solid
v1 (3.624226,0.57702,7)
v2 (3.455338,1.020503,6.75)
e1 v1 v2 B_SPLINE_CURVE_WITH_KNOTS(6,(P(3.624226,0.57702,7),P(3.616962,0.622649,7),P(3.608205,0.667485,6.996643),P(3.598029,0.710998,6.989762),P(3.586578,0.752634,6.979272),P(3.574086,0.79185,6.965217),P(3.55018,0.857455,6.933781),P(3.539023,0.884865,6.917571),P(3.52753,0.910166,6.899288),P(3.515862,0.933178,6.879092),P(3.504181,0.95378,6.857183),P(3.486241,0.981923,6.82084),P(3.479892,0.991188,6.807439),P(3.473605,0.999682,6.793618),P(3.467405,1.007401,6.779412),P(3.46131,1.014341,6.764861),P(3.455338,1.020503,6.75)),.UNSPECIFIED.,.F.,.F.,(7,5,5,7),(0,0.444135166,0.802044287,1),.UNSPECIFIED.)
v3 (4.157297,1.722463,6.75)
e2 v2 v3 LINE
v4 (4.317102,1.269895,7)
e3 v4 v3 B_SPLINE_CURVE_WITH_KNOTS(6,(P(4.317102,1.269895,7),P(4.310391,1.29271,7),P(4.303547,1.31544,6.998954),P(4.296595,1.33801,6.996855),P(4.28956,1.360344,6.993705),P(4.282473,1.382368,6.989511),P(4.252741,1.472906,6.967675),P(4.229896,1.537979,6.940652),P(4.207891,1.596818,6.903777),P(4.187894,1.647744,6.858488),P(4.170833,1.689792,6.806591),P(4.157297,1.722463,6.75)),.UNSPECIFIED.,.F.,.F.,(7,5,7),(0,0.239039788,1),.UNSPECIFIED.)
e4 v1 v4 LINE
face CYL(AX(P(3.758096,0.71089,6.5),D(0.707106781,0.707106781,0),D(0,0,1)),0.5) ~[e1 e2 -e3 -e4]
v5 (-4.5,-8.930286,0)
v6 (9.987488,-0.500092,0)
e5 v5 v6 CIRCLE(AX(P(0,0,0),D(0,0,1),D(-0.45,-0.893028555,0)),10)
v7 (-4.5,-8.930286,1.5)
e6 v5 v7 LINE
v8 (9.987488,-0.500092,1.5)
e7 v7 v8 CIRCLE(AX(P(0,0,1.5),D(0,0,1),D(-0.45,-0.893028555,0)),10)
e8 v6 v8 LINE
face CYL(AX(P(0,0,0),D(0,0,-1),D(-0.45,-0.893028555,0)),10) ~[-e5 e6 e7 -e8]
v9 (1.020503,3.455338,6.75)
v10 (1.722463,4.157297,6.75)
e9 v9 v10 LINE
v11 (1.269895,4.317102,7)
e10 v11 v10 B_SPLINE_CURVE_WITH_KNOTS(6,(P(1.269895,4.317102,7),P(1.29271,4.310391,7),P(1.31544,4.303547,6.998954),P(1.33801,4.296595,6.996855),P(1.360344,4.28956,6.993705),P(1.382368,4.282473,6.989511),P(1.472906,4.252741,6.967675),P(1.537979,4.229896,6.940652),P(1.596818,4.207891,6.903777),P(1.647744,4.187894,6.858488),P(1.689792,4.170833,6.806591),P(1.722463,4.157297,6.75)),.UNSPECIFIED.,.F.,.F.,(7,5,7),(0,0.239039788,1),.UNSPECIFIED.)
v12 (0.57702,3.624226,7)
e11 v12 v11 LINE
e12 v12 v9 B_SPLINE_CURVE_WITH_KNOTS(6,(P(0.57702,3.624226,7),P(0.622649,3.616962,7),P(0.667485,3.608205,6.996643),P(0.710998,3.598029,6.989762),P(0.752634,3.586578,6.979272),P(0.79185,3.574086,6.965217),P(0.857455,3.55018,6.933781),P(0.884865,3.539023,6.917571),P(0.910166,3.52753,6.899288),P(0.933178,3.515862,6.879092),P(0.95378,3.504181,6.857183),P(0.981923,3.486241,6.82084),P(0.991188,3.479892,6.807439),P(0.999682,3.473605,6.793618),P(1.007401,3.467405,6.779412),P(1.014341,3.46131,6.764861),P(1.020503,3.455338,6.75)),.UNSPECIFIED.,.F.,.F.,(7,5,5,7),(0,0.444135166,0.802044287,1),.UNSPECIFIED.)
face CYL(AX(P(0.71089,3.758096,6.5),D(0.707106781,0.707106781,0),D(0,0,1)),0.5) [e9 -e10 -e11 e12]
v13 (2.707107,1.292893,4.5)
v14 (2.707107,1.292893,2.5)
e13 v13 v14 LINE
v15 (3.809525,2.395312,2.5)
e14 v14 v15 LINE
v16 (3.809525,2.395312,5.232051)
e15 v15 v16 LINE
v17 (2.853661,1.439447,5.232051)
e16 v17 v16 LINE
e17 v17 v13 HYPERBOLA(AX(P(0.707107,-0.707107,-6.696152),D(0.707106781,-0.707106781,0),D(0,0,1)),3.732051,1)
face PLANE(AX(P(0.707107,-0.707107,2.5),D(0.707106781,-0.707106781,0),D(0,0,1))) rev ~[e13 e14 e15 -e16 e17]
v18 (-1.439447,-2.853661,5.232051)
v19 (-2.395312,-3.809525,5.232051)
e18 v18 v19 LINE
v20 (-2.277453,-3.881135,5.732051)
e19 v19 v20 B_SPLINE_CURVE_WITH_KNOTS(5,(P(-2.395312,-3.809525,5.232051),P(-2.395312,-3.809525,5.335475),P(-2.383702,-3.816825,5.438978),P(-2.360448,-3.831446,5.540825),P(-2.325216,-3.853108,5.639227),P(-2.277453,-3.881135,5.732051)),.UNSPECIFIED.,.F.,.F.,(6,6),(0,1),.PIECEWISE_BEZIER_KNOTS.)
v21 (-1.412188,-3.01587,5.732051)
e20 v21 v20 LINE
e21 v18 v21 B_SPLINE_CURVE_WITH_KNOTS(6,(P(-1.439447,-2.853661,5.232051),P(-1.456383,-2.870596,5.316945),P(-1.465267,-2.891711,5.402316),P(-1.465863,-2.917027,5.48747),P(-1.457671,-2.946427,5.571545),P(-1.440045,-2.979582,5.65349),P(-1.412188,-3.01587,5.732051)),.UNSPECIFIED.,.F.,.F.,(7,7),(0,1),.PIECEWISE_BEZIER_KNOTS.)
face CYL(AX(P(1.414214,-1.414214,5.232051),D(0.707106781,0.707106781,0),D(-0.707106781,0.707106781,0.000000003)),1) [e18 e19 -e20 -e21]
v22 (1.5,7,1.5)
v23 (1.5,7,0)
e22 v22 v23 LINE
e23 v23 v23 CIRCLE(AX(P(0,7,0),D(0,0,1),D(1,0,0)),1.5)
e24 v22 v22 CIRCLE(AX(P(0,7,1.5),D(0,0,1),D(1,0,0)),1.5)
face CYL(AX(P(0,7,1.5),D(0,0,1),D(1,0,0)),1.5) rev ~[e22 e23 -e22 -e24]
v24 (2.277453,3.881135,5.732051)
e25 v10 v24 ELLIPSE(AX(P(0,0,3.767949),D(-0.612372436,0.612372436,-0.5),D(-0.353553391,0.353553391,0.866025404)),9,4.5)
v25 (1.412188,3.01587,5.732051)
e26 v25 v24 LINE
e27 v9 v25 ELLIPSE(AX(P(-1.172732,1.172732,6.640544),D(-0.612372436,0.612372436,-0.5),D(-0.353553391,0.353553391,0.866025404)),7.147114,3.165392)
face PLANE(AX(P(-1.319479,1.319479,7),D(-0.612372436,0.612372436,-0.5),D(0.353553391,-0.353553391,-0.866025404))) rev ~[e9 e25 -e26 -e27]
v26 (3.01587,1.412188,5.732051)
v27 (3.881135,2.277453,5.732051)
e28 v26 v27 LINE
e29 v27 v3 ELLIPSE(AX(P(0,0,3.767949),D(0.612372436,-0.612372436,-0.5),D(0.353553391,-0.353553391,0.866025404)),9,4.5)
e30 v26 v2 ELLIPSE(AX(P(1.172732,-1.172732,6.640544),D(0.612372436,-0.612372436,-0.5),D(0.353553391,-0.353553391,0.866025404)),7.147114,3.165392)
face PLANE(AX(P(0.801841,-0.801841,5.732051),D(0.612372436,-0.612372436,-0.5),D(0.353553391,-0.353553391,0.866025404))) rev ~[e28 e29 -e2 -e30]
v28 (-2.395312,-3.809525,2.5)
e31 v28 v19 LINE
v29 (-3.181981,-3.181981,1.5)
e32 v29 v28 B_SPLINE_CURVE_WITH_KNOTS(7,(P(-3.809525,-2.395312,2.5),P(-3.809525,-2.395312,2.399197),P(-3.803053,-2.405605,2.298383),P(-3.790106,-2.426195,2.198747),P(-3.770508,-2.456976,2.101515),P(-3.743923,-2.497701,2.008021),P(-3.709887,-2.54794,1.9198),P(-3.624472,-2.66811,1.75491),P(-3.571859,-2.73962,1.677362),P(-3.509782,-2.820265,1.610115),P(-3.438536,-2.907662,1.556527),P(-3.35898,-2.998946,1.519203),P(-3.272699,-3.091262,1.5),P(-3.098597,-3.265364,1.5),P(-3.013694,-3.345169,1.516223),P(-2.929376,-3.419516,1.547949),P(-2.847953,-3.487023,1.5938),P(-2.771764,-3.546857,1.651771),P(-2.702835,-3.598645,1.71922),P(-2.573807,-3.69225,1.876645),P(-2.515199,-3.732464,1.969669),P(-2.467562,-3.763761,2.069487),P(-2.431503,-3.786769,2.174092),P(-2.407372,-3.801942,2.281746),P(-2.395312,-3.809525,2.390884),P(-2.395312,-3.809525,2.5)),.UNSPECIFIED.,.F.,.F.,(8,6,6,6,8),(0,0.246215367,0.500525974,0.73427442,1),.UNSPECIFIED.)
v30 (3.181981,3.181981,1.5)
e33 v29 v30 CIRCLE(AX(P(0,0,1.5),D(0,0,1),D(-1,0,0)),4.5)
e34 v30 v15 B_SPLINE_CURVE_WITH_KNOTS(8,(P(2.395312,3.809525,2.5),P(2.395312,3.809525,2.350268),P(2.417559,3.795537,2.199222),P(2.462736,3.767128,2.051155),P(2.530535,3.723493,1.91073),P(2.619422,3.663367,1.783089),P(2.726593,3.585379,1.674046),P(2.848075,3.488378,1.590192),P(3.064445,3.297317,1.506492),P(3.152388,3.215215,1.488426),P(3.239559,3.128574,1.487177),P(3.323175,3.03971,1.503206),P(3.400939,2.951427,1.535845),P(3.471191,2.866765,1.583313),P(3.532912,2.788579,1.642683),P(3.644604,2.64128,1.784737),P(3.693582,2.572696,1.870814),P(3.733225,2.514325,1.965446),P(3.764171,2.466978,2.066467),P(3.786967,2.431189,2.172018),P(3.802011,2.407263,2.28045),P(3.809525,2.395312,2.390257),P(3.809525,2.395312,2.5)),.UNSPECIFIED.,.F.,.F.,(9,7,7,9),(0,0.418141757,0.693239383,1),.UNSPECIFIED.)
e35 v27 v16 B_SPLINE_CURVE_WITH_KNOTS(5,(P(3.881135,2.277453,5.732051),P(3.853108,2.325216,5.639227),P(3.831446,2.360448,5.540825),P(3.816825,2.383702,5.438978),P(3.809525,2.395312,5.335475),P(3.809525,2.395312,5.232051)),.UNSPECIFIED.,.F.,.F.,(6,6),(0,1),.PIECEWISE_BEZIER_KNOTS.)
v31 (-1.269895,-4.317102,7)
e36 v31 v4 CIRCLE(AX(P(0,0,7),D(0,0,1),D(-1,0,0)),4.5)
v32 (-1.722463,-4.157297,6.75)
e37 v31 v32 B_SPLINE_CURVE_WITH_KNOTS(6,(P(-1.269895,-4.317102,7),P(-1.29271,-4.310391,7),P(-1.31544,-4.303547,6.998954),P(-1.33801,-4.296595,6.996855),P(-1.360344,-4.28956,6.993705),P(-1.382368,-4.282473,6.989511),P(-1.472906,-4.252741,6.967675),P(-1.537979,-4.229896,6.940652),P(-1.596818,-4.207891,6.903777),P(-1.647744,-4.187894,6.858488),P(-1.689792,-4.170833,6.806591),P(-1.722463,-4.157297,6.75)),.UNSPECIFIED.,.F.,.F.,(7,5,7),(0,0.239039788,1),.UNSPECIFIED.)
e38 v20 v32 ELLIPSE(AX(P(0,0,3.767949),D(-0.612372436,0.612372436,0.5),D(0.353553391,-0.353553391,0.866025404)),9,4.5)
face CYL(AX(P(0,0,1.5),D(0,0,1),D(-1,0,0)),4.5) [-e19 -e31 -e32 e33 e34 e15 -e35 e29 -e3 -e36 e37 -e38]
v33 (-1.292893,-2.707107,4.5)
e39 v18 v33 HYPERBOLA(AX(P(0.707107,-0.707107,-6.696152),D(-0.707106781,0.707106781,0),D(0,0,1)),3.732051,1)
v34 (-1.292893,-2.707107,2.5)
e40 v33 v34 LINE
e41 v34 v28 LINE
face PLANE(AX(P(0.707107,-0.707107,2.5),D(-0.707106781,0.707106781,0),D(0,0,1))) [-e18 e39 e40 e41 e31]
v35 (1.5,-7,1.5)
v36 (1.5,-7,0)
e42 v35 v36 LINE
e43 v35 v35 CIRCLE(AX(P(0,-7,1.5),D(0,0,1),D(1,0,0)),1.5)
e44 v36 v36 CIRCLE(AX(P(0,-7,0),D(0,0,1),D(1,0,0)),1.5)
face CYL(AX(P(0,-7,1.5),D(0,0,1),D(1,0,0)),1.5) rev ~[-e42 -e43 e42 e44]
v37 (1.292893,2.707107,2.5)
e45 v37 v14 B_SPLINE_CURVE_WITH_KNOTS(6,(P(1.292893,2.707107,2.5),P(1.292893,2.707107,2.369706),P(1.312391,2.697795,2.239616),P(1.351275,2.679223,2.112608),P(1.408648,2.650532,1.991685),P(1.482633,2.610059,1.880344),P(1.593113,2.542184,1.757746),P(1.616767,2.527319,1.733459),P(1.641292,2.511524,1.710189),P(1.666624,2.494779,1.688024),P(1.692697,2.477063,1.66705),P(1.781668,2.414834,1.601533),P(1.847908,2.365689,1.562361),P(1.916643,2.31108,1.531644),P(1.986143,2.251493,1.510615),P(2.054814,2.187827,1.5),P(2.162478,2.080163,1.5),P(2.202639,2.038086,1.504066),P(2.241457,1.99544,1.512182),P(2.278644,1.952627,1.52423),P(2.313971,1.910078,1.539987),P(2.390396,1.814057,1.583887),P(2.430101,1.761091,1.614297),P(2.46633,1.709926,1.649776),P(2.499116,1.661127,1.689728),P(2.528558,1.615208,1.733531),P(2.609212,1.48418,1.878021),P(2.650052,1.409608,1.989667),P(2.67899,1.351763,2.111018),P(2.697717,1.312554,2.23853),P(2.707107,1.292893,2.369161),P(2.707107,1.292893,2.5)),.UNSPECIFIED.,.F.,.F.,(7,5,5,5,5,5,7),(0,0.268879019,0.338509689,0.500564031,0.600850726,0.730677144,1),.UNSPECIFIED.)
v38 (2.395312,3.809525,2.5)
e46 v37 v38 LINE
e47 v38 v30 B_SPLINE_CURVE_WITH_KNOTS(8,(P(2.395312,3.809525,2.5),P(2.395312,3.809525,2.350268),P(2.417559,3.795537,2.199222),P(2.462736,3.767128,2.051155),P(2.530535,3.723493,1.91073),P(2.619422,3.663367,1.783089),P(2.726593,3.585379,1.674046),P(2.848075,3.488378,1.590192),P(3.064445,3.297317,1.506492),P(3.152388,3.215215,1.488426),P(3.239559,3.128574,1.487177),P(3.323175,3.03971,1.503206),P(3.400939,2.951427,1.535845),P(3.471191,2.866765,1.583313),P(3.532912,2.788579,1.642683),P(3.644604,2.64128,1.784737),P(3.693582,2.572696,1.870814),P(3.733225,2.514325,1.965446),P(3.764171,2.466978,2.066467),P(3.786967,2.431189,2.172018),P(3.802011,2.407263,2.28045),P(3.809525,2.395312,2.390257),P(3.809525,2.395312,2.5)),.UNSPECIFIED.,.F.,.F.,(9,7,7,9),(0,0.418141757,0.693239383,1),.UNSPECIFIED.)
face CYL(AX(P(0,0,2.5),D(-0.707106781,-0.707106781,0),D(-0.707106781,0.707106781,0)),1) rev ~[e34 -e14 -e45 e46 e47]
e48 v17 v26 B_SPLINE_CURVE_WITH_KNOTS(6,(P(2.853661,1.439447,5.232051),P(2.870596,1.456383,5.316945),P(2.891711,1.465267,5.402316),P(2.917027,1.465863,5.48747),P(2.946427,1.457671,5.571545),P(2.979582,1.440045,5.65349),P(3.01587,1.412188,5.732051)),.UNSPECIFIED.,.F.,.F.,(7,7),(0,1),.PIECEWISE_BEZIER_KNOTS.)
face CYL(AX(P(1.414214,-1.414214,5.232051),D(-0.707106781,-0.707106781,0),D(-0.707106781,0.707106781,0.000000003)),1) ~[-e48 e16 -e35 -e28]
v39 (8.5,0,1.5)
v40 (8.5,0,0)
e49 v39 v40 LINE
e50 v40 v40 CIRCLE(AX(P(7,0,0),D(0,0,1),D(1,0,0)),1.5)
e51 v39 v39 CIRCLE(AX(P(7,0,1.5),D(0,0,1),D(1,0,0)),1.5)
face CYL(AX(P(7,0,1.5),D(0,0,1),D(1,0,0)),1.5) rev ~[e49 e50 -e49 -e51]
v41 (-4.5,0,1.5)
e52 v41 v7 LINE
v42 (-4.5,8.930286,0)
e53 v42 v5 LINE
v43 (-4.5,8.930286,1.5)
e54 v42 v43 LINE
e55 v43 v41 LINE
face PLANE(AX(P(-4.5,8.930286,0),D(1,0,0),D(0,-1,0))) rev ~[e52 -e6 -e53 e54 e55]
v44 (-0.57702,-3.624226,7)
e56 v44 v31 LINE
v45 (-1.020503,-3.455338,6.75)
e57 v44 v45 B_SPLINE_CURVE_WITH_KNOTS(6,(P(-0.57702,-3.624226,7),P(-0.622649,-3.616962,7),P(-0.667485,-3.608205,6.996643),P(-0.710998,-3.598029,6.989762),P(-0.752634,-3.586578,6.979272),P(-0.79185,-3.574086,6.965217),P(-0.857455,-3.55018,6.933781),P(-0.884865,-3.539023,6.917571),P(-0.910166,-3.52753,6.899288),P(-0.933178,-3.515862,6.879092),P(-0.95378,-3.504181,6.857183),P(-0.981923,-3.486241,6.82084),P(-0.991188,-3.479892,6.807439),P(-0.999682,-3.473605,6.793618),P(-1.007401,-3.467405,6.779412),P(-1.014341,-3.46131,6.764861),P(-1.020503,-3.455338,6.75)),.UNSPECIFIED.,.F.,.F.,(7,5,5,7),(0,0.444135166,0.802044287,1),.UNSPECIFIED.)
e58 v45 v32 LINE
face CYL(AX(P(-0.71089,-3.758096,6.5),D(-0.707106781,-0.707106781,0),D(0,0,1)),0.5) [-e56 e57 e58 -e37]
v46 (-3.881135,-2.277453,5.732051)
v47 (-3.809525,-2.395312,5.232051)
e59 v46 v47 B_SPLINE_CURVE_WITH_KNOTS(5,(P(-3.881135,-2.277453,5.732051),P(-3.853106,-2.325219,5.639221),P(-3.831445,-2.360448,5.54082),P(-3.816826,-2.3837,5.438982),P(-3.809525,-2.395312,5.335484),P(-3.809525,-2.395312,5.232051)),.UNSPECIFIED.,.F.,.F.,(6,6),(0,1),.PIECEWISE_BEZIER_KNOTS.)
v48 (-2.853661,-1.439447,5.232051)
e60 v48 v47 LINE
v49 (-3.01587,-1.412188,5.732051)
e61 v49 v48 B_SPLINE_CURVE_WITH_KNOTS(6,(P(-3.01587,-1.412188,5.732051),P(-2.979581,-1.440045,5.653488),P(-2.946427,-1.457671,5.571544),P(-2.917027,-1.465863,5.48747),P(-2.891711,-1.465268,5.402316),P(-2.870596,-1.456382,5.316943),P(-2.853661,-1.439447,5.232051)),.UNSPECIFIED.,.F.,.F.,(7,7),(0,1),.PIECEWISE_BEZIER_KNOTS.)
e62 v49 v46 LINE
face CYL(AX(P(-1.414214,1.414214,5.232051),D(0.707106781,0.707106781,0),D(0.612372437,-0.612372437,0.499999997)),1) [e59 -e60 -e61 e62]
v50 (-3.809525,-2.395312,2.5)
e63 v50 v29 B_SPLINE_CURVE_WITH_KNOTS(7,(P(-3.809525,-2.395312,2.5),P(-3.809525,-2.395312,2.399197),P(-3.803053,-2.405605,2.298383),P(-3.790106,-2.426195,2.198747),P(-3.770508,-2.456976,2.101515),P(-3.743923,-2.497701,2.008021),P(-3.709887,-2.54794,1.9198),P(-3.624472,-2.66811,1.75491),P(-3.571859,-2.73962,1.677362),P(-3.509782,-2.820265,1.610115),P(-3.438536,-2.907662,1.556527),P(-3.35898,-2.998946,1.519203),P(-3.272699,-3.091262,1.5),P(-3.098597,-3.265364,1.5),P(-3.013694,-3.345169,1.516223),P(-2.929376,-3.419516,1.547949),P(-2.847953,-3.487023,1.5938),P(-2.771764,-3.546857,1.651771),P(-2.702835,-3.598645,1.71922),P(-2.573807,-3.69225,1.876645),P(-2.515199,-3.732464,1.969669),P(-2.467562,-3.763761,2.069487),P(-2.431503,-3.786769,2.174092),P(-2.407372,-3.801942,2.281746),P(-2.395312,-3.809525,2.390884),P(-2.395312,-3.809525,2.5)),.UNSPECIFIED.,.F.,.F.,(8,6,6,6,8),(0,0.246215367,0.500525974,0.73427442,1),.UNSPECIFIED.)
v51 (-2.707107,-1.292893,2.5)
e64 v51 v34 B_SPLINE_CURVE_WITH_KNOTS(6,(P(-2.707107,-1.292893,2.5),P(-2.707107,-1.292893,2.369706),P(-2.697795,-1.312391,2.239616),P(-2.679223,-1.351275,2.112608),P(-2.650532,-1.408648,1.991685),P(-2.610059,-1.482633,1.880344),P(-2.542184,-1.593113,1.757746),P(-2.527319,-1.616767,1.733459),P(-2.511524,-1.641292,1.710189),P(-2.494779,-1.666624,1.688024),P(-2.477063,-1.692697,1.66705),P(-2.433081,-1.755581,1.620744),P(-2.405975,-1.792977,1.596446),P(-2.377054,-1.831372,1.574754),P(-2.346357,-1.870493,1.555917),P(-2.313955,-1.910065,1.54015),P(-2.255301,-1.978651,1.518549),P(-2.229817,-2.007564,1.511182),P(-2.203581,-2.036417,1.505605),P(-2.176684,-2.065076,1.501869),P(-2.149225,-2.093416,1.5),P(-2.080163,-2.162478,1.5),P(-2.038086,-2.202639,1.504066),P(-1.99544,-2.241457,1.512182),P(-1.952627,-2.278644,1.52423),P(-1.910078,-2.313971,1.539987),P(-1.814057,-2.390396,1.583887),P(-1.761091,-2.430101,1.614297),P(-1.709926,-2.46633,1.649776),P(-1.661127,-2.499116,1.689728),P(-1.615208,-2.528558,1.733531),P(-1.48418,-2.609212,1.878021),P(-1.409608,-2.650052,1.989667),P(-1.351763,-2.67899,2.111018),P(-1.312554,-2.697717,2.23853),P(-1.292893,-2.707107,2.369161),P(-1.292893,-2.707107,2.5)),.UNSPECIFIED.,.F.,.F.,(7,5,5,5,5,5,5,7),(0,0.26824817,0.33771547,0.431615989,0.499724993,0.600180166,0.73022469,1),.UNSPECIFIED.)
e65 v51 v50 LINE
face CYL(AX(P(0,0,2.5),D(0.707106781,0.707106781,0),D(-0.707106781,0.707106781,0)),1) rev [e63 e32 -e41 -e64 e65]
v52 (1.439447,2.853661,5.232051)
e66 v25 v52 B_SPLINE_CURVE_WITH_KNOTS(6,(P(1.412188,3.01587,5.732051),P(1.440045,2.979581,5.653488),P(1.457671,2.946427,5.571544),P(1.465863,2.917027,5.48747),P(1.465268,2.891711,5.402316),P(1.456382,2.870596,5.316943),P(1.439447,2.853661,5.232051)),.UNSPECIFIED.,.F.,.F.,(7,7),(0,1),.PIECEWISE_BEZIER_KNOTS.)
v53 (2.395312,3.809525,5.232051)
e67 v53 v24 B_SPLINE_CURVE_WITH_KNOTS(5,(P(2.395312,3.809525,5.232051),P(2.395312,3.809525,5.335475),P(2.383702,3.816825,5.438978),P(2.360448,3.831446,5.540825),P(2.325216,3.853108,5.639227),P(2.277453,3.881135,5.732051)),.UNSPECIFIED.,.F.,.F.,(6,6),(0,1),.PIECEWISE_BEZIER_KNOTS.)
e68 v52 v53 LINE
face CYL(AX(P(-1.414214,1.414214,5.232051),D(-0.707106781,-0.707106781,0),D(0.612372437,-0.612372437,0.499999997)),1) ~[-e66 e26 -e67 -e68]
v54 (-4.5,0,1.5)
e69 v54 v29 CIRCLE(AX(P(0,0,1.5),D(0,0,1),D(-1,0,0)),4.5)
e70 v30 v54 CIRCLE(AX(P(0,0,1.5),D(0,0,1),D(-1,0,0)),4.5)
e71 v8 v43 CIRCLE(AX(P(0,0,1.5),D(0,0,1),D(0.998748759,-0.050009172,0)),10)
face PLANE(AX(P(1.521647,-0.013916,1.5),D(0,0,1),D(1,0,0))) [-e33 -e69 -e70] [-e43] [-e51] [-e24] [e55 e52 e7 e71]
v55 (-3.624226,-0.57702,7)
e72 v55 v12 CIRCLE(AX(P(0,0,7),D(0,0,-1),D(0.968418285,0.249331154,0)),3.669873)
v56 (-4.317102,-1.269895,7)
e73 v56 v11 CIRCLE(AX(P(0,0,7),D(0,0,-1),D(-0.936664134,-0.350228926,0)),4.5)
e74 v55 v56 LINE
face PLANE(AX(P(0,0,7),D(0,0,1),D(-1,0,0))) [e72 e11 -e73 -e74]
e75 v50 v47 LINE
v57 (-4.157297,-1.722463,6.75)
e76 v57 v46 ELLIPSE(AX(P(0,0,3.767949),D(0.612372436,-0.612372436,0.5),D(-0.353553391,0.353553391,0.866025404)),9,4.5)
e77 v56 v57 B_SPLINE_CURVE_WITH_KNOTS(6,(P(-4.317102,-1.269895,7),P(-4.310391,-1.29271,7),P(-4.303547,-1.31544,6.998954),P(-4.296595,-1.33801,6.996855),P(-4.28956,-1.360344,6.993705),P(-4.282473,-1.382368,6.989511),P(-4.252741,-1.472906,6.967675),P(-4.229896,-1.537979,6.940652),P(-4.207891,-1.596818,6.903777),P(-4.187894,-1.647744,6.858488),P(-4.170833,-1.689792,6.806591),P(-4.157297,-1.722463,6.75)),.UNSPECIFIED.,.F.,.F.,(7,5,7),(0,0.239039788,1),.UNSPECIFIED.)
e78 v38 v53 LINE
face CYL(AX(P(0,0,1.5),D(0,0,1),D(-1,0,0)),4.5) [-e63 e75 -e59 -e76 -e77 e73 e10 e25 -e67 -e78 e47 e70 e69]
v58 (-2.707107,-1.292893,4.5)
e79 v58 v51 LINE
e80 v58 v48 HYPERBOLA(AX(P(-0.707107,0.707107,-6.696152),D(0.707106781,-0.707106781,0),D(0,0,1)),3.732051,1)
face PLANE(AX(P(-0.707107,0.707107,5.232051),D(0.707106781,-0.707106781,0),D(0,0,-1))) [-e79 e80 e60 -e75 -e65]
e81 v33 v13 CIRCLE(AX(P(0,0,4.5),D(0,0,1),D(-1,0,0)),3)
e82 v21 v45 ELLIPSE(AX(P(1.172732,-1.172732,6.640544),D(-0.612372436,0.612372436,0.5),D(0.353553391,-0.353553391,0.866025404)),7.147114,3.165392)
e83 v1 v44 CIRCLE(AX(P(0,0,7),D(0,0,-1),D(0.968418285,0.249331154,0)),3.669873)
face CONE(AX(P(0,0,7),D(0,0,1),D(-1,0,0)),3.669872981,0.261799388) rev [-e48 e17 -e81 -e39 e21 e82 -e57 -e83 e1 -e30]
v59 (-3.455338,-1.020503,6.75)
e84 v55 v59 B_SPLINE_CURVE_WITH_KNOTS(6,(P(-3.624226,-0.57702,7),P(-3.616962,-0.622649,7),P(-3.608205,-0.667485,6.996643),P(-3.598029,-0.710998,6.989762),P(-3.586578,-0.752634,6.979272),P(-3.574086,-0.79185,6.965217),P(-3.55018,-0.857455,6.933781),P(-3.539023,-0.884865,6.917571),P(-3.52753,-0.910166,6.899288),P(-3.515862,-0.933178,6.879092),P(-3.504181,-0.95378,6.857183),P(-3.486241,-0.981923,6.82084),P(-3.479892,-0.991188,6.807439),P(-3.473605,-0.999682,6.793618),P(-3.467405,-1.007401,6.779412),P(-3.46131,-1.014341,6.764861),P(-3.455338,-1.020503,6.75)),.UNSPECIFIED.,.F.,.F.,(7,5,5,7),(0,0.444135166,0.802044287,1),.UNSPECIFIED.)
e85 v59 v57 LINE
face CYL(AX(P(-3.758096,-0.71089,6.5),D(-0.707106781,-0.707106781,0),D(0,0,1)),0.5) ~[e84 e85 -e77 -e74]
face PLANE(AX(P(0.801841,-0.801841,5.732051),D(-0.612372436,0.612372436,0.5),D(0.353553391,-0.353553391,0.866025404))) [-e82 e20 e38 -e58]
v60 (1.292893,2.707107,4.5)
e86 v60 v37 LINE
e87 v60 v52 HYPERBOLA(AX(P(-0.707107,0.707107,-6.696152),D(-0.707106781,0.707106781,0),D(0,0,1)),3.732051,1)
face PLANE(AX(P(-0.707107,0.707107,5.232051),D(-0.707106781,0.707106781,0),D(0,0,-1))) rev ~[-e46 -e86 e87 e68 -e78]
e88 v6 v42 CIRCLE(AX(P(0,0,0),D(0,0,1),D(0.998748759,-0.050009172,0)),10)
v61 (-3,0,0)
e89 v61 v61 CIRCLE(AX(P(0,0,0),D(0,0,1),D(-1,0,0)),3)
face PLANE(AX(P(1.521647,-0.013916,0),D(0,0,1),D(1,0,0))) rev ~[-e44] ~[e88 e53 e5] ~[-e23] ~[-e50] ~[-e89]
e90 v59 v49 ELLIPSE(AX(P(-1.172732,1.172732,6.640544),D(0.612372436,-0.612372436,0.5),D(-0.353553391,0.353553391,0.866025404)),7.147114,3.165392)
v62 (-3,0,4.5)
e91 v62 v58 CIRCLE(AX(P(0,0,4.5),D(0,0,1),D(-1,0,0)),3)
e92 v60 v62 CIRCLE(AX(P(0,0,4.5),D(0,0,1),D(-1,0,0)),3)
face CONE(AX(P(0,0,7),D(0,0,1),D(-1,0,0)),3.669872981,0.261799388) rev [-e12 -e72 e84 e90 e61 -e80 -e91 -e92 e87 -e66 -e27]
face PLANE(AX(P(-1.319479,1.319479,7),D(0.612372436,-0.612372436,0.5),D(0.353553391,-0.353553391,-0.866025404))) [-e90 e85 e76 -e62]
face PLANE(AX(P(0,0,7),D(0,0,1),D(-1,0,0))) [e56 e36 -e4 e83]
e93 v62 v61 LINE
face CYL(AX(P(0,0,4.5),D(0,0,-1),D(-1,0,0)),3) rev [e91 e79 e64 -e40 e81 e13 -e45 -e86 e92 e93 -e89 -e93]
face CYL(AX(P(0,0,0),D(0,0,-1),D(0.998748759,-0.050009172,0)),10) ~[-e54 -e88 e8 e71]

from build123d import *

# Parameters (mm, degrees)
ESQUISSE1_R                  = 3
BOSS_EXTRU_1_DEPTH           = 1.5
ENL_V_MAT_EXTRU_1_DEPTH      = 16.779733838
ENL_V_MAT_EXTRU_1_DEPTH_BACK = 16.779733838
ESQUISSE4_R                  = 1.5
ENL_V_MAT_EXTRU_2_DEPTH      = 14.2
CONG_2_R                     = 0.5


with BuildPart() as part:
    # Esquisse1 → Boss.-Extru.1 (new body)
    with BuildSketch(Plane.XY):
        with BuildLine():
            Line((-4.5, 8.93028555), (-4.5, -8.93028555))
            ThreePointArc((-4.5, -8.93028555), (5.029430583, -8.643195475), (9.987487585, -0.500091723))
            ThreePointArc((9.987487585, -0.500091723), (5.455376603, 8.380863089), (-4.5, 8.93028555))
        make_face()
        with Locations(Location((0, 0, 0), (0, 0, 180))):
            Circle(ESQUISSE1_R, mode=Mode.SUBTRACT)
    extrude(amount=BOSS_EXTRU_1_DEPTH)

    # Esquisse2 → R_volution1 (revolve)
    with BuildSketch(Plane(origin=(0, 0, 0), x_dir=(0, 0, -1), z_dir=(1, 0, 0)), mode=Mode.PRIVATE) as r_volution1_sk:
        Polygon((-1.5, 4.5), (-7, 4.5), (-7, 3.669872981), (-4.5, 3), (-1.5, 3), align=None)
    revolve(r_volution1_sk.sketch.rotate(Axis((0, 0, 0), (0, 0, 1)), 90), axis=Axis((0, 0, 0), (0, 0, 1)))

    # Esquisse3 → Enl_v. mat.-Extru.1 (cut, two sides)
    with BuildSketch(Plane(origin=(0, 0, 0), x_dir=(0, 0, 1), z_dir=(0.7071067811865464, 0.7071067811865488, 0))) as enl_v_mat_extru_1_sk:
        with BuildLine():
            Line((2.5, 1), (5.232050808, 1))
            ThreePointArc((5.232050808, 1), (5.490869853, 1.034074174), (5.732050808, 1.133974596))
            Line((5.732050808, 1.133974596), (7, 1.866025404))
            Line((7, 1.866025404), (7, -1.866025404))
            Line((7, -1.866025404), (5.732050808, -1.133974596))
            ThreePointArc((5.732050808, -1.133974596), (5.490869853, -1.034074174), (5.232050808, -1))
            Line((5.232050808, -1), (2.5, -1))
            ThreePointArc((2.5, -1), (1.5, 0), (2.5, 1))
        make_face()
    extrude(amount=ENL_V_MAT_EXTRU_1_DEPTH, mode=Mode.SUBTRACT)
    extrude(enl_v_mat_extru_1_sk.sketch, amount=-ENL_V_MAT_EXTRU_1_DEPTH_BACK, mode=Mode.SUBTRACT)

    # Esquisse4 → Enl_v. mat.-Extru.2 (cut)
    with BuildSketch(Plane.XY.offset(1.5)):
        with Locations((0, -7)):
            Circle(ESQUISSE4_R)
        with Locations((0, 7)):
            Circle(ESQUISSE4_R)
        with Locations((7, 0)):
            Circle(ESQUISSE4_R)
    extrude(amount=-ENL_V_MAT_EXTRU_2_DEPTH, mode=Mode.SUBTRACT)

    # Cong_2
    cong_2_edges = [part.edges().sort_by_distance(p)[0] for p in [
        (-3.884480351, -1.245521917, 7),
        (1.245521917, 3.884480351, 7),
        (3.884480351, 1.245521917, 7),
        (-1.245521917, -3.884480351, 7),
    ]]
    fillet(cong_2_edges, radius=CONG_2_R)


solid = part.part
